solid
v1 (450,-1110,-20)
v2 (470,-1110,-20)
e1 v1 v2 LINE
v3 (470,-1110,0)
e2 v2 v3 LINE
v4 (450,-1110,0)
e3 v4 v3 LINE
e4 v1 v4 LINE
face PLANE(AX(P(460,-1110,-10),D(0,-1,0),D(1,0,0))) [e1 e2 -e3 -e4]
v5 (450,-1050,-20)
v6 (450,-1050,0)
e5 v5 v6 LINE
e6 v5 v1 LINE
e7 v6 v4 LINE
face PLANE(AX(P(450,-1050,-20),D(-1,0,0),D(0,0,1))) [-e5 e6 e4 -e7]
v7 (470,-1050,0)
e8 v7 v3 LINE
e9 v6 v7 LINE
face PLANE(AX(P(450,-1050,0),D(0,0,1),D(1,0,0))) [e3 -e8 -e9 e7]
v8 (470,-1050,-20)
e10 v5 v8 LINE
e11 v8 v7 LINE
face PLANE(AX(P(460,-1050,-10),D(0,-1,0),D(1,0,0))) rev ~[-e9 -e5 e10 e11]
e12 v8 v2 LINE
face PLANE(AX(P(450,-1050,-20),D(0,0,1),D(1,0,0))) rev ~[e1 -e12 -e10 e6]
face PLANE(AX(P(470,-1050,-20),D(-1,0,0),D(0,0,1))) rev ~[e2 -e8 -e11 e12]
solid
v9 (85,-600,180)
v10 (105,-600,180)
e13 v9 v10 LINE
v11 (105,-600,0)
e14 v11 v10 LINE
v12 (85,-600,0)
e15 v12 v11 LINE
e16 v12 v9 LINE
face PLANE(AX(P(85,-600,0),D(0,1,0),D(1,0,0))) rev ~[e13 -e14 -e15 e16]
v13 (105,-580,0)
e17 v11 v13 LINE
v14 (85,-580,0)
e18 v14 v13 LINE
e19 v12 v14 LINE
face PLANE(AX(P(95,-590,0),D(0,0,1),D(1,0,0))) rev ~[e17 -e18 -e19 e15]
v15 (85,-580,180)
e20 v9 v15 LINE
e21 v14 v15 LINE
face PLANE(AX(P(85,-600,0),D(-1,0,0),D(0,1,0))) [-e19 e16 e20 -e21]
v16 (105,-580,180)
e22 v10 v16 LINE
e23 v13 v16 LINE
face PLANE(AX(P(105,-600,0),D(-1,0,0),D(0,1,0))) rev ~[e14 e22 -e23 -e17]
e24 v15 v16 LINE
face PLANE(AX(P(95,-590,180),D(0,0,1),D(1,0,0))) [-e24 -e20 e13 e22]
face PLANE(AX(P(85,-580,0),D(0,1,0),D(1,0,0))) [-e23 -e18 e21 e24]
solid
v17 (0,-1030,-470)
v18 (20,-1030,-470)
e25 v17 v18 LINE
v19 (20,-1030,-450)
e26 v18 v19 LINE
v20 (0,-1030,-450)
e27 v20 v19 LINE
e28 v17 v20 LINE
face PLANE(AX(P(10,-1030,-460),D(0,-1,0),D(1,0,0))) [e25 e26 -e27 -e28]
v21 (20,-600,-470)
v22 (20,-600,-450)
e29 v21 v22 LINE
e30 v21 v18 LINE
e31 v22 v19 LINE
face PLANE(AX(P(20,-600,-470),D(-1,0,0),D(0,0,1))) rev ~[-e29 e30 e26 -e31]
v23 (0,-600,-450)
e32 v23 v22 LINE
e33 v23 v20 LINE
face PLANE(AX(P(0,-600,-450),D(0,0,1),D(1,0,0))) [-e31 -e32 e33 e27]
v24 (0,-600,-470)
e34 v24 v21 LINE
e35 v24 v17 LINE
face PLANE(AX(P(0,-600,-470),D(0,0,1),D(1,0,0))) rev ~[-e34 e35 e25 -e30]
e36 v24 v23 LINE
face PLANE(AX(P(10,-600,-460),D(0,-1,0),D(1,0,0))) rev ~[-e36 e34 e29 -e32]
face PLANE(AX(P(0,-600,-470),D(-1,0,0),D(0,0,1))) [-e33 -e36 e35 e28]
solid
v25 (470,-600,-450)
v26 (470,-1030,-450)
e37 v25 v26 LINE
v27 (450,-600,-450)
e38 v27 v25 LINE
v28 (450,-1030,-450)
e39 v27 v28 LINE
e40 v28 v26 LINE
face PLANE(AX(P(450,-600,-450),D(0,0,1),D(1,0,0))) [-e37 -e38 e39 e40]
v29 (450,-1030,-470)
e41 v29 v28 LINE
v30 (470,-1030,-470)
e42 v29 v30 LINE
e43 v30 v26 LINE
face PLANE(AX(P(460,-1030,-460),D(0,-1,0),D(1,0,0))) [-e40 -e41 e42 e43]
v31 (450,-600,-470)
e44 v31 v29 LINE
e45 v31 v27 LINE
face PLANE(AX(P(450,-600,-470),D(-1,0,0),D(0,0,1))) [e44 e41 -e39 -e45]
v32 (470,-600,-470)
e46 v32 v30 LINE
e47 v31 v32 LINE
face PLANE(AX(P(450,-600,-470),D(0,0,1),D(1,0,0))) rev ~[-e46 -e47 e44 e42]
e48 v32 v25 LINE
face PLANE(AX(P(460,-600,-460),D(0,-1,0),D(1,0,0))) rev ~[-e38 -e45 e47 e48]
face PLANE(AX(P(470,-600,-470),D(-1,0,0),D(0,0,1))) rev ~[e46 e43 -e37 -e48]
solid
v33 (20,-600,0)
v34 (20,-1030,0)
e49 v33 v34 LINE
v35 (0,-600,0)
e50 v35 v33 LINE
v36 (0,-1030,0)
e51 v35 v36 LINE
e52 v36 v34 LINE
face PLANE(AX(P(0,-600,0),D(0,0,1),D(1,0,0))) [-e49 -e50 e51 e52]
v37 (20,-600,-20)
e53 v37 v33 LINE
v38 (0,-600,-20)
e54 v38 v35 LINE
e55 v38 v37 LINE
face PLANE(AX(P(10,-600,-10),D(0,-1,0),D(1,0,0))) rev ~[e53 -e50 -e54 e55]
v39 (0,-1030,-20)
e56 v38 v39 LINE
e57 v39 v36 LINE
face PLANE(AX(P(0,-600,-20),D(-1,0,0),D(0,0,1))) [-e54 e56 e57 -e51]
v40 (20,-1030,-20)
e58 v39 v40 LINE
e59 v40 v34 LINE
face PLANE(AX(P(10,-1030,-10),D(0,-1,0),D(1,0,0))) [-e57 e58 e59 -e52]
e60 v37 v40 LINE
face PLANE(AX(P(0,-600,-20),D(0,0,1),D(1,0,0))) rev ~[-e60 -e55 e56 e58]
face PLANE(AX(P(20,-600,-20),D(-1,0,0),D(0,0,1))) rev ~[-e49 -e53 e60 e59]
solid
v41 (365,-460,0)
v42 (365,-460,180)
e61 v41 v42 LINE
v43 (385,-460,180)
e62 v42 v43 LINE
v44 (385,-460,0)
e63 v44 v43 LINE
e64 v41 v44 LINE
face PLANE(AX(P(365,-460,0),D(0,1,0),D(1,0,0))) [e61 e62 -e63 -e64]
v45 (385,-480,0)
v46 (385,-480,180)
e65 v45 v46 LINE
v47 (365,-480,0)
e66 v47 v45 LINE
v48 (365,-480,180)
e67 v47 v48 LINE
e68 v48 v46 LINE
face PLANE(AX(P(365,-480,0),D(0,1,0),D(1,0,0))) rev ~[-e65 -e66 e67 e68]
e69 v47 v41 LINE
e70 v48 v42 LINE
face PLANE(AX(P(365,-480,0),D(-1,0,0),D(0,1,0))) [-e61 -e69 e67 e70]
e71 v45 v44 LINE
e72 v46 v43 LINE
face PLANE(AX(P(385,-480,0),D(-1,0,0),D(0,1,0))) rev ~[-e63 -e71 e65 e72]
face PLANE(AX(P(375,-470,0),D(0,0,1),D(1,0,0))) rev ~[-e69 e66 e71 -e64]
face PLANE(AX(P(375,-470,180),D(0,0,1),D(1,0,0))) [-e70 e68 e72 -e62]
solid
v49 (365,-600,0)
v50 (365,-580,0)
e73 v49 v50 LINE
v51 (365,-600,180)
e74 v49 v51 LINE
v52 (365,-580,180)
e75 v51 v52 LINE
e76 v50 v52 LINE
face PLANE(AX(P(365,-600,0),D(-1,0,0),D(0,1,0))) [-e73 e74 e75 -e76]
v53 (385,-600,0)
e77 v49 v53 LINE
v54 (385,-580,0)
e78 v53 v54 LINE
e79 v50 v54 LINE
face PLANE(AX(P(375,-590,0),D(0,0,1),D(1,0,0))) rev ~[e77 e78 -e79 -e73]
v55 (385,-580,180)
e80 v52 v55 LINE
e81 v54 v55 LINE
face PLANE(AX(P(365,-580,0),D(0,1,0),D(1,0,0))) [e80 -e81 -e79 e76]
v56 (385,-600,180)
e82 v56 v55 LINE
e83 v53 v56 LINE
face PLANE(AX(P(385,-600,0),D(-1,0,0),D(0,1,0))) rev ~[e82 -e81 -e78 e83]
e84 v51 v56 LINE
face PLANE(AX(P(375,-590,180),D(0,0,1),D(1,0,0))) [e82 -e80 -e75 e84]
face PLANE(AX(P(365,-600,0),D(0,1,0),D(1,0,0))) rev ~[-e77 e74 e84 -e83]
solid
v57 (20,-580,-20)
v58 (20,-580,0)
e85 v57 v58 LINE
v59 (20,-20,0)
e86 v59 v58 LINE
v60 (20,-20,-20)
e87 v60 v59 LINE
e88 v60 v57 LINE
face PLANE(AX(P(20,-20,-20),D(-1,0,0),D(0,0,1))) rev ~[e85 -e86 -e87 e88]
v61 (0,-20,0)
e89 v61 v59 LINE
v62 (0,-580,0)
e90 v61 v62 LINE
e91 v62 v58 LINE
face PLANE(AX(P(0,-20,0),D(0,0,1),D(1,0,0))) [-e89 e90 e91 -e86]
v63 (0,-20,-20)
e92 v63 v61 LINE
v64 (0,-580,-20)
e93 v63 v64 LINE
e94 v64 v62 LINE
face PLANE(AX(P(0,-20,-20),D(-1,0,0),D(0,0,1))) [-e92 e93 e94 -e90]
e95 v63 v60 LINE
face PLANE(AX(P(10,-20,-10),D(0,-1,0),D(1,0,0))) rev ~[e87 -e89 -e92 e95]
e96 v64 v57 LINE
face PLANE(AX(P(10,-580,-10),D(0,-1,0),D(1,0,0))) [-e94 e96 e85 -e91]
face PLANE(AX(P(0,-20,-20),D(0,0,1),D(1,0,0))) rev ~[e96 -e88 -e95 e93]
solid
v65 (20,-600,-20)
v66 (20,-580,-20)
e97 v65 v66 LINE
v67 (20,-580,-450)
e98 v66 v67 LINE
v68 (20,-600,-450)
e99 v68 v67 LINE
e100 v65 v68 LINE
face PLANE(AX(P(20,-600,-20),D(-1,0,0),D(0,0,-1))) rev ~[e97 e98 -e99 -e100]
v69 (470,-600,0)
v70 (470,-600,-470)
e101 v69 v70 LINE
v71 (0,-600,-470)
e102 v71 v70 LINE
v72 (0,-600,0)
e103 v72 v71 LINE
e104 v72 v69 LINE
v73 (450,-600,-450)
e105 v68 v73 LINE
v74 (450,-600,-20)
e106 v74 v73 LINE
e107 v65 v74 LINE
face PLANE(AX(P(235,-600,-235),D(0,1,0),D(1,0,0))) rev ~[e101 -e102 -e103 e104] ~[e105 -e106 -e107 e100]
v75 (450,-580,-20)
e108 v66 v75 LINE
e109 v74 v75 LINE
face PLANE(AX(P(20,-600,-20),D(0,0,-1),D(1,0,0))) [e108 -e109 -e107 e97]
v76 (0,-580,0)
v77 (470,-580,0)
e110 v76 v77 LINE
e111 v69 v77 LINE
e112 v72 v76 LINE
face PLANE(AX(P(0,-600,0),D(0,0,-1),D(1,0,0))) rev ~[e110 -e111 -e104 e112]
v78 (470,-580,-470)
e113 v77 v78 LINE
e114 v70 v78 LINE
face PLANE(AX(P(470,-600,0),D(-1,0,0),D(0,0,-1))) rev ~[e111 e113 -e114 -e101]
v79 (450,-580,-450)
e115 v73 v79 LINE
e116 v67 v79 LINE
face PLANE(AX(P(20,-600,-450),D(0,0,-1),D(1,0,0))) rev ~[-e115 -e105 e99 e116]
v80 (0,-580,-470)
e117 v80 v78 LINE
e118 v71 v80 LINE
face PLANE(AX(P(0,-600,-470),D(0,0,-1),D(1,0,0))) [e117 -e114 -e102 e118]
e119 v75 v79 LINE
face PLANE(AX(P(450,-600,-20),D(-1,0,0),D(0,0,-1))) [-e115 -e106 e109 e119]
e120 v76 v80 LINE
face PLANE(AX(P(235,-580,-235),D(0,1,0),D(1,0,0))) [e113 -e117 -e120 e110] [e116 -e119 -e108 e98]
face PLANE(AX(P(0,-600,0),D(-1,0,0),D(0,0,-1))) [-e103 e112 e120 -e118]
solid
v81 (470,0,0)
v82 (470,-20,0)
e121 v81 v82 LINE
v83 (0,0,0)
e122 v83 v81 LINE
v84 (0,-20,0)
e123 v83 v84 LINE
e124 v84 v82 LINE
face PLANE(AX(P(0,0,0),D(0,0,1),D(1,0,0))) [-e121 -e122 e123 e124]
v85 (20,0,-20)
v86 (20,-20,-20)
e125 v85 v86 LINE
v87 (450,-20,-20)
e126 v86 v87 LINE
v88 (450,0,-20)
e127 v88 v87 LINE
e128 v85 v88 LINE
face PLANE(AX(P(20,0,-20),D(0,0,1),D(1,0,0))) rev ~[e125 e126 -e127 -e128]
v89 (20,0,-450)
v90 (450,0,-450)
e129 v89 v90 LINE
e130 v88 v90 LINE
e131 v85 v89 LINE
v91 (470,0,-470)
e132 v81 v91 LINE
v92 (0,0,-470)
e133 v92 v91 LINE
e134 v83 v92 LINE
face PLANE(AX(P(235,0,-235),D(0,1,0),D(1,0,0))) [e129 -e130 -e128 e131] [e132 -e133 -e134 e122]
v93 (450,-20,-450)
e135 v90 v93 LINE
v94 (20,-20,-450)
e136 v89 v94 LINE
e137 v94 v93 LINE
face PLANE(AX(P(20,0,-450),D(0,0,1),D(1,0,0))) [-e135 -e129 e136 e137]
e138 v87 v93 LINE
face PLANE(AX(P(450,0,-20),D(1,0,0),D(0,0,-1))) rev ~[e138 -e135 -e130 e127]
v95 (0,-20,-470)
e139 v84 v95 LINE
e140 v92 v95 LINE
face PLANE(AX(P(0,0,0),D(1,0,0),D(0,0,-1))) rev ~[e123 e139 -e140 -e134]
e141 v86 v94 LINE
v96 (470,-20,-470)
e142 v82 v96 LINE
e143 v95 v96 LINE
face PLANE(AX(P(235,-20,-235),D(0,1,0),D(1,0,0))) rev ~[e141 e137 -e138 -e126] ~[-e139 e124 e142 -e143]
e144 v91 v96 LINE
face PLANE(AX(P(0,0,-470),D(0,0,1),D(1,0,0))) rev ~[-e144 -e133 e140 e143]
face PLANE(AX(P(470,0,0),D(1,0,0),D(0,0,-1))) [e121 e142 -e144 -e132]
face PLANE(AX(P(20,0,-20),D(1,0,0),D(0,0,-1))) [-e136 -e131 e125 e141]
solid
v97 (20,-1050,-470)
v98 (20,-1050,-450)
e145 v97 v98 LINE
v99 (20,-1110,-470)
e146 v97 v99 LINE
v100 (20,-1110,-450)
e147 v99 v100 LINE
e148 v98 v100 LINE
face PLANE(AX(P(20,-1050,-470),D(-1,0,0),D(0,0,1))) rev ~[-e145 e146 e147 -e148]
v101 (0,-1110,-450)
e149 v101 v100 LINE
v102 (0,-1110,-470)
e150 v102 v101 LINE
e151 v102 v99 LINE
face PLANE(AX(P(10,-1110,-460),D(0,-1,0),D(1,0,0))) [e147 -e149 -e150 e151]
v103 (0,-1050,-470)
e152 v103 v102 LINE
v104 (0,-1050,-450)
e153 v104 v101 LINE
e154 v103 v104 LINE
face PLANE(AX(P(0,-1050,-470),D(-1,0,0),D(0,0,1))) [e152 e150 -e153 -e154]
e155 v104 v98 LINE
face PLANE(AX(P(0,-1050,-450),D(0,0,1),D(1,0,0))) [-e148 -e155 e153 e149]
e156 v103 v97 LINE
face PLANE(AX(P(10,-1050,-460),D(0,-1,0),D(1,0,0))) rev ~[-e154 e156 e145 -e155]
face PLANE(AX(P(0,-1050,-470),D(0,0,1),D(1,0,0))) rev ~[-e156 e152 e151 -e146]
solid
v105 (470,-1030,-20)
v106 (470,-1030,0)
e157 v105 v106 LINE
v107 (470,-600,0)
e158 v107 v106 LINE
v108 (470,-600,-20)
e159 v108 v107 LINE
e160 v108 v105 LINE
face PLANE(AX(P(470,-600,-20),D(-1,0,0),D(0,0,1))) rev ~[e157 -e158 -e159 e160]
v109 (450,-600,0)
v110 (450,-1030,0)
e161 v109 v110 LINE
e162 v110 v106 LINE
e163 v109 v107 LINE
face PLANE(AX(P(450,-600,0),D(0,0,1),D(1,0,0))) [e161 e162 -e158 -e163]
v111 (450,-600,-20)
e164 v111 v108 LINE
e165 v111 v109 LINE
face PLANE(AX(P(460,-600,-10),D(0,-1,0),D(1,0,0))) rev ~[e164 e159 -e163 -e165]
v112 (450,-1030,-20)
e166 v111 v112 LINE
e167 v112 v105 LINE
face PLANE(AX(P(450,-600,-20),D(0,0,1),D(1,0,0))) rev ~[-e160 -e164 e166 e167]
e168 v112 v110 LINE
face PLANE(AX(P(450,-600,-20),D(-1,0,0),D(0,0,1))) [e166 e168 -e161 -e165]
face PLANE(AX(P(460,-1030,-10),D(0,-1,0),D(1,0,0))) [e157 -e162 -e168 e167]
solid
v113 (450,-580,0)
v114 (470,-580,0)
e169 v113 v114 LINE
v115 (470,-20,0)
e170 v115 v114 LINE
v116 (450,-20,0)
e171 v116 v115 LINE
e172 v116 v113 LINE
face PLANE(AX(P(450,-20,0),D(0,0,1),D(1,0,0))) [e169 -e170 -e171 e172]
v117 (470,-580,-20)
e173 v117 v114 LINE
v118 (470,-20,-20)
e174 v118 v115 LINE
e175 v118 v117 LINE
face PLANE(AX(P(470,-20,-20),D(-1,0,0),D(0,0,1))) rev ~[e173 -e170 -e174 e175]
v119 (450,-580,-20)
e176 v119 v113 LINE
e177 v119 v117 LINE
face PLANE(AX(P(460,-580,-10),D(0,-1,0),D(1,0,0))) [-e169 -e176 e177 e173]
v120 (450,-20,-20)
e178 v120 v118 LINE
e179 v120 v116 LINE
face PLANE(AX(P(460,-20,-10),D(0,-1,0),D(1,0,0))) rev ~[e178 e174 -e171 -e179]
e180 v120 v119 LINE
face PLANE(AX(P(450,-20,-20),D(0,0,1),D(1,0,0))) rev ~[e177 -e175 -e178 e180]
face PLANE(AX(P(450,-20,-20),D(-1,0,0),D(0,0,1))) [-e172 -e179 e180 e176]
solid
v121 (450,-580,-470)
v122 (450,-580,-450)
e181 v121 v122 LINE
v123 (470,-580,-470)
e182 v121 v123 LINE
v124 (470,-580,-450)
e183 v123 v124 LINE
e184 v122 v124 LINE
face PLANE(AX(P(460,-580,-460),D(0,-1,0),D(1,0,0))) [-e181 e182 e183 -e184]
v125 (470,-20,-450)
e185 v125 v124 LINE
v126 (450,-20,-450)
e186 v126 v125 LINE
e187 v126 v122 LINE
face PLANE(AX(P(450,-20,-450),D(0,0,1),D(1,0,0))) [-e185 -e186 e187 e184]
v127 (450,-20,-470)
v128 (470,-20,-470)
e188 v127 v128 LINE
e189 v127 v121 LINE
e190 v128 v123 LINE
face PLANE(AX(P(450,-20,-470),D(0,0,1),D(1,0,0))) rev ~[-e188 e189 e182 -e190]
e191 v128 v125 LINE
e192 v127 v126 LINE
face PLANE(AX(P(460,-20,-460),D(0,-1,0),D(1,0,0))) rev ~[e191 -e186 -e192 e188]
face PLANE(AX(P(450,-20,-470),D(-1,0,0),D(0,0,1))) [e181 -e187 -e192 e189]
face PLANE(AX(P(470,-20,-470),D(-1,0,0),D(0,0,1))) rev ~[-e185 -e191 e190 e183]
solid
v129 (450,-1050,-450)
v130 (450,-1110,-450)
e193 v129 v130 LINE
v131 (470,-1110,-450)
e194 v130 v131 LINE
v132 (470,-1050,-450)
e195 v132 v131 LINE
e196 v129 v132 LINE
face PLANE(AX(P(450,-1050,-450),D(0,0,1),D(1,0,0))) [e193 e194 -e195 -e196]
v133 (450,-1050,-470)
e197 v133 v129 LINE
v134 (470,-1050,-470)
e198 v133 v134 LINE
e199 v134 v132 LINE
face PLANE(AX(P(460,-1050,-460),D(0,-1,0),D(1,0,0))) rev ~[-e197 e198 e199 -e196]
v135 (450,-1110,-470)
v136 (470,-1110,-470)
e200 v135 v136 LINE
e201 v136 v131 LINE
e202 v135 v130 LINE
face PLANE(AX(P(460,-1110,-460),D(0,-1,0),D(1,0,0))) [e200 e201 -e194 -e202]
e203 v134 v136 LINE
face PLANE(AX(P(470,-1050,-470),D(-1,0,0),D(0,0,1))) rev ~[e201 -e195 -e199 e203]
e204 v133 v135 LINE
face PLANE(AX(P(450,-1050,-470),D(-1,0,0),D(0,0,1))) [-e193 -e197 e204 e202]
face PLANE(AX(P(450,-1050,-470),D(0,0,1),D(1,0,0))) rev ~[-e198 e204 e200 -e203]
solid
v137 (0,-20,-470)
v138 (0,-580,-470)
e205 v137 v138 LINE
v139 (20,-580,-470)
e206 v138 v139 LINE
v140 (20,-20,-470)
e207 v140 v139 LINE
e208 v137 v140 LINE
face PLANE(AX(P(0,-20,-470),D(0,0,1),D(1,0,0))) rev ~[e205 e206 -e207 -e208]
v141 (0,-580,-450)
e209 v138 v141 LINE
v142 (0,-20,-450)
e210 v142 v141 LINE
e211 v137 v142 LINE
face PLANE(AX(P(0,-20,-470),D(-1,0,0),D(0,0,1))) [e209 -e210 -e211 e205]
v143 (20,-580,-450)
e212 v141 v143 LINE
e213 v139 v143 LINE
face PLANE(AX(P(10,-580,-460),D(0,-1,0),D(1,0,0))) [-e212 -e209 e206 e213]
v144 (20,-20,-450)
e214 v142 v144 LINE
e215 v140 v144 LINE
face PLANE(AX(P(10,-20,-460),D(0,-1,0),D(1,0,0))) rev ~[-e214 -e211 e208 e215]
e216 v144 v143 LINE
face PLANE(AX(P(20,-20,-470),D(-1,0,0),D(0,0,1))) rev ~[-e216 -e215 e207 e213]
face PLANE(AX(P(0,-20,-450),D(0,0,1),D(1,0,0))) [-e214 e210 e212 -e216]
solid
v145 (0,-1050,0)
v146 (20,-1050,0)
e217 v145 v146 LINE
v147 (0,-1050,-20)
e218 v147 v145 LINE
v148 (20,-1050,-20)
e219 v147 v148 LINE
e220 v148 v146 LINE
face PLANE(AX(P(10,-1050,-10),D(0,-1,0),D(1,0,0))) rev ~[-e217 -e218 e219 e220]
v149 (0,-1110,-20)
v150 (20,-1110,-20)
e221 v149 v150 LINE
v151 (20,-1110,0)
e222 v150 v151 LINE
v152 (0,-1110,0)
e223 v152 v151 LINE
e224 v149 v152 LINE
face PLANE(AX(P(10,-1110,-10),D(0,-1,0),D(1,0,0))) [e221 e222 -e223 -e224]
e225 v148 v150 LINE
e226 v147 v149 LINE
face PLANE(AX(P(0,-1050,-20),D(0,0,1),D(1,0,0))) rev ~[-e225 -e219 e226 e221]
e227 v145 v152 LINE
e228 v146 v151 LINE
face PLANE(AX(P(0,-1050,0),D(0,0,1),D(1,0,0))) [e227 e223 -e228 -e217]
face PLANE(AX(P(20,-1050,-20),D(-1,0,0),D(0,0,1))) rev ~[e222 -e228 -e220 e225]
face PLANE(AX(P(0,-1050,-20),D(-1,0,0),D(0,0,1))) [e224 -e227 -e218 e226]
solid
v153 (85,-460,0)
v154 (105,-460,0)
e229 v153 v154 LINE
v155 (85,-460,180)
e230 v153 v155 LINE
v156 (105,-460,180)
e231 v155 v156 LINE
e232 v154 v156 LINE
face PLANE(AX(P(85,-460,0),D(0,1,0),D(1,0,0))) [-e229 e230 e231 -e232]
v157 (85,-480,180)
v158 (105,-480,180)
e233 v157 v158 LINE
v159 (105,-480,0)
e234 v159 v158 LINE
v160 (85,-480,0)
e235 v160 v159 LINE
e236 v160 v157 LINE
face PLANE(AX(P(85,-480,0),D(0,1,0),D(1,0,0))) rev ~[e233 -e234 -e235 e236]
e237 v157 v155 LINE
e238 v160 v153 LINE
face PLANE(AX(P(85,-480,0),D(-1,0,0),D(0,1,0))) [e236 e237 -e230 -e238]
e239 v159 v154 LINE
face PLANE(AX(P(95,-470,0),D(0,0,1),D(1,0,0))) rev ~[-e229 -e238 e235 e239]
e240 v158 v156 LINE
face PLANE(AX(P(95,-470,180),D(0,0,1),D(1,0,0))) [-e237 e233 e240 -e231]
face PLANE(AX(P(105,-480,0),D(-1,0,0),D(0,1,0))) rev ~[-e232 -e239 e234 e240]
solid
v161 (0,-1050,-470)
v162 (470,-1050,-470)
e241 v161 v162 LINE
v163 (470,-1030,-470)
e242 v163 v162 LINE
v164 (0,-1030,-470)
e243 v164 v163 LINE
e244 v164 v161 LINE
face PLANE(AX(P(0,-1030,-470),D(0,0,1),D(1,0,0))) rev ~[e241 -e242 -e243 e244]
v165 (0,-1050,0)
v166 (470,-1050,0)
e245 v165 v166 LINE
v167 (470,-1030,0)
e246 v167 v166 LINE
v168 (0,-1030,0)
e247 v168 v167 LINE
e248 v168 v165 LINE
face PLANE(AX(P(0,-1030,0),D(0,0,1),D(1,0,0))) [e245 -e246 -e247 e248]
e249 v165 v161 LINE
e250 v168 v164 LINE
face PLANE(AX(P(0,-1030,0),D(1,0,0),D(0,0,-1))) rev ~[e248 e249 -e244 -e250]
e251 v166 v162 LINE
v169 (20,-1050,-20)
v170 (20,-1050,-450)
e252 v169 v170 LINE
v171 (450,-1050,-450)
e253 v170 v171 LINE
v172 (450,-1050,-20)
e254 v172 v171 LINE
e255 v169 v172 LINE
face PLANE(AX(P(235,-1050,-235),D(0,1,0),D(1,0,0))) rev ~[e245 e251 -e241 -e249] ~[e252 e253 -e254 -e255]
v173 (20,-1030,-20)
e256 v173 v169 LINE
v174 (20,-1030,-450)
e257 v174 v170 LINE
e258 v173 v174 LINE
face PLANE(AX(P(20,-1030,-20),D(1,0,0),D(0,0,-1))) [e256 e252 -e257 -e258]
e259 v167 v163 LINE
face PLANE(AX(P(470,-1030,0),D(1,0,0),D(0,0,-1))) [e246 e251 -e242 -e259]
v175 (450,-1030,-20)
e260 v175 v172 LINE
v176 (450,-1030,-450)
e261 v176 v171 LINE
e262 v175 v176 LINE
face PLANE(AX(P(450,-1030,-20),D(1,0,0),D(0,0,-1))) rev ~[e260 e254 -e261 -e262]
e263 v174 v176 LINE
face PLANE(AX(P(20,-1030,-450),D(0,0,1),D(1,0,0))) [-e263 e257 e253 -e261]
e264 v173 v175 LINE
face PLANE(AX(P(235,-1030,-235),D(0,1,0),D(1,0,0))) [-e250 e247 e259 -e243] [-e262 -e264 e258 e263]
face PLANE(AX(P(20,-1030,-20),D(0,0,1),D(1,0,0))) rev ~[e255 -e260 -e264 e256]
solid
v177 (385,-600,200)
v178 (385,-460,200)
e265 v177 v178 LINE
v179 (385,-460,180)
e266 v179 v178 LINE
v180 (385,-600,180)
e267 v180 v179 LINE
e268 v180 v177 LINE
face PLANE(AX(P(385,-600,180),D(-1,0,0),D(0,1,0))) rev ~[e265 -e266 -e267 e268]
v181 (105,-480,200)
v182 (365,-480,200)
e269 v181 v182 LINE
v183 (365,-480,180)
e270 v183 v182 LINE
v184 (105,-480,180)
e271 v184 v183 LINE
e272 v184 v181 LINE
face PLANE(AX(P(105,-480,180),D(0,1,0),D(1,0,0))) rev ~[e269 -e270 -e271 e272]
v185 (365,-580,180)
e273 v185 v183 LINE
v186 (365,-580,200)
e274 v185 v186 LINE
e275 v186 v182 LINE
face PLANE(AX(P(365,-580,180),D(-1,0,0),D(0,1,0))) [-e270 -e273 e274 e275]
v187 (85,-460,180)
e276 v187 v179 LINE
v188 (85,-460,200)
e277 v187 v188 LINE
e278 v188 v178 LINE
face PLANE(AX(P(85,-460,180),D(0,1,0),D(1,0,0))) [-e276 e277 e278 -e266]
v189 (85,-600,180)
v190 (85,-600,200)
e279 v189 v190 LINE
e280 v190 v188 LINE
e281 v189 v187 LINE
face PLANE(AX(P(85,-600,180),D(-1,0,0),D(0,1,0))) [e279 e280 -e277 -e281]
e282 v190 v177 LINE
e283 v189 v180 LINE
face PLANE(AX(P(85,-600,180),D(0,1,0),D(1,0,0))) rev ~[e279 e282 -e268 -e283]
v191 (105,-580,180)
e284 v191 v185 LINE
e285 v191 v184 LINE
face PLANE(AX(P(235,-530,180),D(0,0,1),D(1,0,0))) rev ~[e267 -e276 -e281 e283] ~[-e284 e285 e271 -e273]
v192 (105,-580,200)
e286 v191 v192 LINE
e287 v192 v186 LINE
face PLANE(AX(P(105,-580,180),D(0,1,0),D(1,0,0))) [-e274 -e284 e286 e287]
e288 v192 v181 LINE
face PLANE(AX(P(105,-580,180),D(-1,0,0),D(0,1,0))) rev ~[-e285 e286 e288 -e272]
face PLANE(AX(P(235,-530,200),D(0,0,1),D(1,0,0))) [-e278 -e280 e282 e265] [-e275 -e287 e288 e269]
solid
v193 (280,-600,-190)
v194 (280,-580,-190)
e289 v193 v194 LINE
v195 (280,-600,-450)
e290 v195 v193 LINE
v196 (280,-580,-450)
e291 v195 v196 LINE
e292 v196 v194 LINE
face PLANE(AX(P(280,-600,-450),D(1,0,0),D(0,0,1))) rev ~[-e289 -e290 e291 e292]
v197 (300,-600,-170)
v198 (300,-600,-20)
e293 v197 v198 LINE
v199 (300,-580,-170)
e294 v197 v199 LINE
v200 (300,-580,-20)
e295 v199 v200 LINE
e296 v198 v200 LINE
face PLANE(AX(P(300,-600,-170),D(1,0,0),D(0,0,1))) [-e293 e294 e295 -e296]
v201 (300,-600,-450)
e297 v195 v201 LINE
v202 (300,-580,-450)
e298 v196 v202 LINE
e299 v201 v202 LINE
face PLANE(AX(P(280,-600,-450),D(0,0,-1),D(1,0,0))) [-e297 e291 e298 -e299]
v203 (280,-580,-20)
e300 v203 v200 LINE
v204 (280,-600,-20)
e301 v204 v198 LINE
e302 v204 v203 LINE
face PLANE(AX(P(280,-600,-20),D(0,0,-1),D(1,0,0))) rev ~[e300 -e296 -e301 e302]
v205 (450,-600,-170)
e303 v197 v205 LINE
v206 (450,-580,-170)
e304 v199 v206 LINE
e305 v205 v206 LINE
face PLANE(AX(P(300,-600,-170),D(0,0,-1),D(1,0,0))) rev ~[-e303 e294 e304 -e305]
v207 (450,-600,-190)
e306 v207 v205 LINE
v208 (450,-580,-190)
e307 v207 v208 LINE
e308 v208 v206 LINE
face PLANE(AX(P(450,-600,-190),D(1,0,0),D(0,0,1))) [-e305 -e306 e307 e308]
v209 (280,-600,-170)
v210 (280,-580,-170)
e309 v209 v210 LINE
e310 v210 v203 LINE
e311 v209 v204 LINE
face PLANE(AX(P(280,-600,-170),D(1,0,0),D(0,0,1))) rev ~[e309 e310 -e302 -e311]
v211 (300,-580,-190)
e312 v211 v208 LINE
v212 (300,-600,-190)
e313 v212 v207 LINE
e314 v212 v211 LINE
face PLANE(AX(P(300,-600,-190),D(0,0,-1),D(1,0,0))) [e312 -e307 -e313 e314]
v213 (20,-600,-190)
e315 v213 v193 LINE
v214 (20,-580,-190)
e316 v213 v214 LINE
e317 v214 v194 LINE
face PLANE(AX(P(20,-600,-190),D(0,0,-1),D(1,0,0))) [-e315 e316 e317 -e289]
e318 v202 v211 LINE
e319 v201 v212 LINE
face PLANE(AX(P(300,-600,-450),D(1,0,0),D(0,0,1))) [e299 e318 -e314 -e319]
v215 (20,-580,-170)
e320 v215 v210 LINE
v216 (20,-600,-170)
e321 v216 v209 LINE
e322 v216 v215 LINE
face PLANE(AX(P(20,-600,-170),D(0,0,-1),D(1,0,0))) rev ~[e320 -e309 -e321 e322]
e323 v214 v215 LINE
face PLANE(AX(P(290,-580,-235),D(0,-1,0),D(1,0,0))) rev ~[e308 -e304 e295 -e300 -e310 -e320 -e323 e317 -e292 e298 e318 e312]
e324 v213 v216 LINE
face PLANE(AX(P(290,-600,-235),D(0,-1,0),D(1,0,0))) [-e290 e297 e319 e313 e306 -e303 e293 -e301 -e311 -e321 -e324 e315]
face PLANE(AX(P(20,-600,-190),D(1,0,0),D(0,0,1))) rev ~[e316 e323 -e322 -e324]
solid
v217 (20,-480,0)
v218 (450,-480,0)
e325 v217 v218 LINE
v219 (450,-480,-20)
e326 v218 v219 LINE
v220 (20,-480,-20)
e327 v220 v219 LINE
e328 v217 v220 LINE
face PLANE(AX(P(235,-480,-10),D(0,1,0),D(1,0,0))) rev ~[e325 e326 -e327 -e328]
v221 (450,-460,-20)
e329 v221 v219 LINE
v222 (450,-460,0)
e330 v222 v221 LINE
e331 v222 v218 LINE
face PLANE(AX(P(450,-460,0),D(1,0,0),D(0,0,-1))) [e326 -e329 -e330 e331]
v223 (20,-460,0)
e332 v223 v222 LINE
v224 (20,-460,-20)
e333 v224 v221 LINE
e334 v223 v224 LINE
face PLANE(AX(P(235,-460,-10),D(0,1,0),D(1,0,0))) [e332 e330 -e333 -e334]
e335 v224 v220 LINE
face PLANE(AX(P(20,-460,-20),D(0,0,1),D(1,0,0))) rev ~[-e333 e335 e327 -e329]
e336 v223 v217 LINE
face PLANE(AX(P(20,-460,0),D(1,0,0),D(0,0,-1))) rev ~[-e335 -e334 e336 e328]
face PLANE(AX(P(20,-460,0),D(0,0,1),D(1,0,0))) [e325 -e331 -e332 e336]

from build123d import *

# Parameters (mm, degrees)
SKETCH_1_W        = 470
SKETCH_1_H        = 470
SKETCH_1_W_2      = 430
SKETCH_1_H_2      = 430
EXTRUDE_1_DEPTH   = 20
SKETCH_2_W        = 20
SKETCH_2_H        = 20
EXTRUDE_2_DEPTH   = 560
EXTRUDE_2_2_DEPTH = 560
EXTRUDE_2_3_DEPTH = 560
EXTRUDE_2_4_DEPTH = 560
SKETCH_3_W        = 470
SKETCH_3_H        = 470
SKETCH_3_W_2      = 430
SKETCH_3_H_2      = 430
EXTRUDE_3_DEPTH   = 20
SKETCH_4_W        = 470
SKETCH_4_H        = 470
SKETCH_4_W_2      = 430
SKETCH_4_H_2      = 430
EXTRUDE_4_DEPTH   = 20
SKETCH_5_W        = 20
SKETCH_5_H        = 20
EXTRUDE_5_DEPTH   = 430
EXTRUDE_5_2_DEPTH = 430
EXTRUDE_5_3_DEPTH = 430
EXTRUDE_5_4_DEPTH = 430
SKETCH_6_W        = 20
SKETCH_6_H        = 20
EXTRUDE_6_DEPTH   = 60
EXTRUDE_6_2_DEPTH = 60
EXTRUDE_6_3_DEPTH = 60
EXTRUDE_6_4_DEPTH = 60
SKETCH_8_W        = 430
SKETCH_8_H        = 20
EXTRUDE_7_DEPTH   = 20
EXTRUDE_START     = 180
SKETCH_9_W        = 300
SKETCH_9_H        = 140
SKETCH_9_W_2      = 260
SKETCH_9_H_2      = 100
EXTRUDE_8_DEPTH   = 20
SKETCH_10_W       = 20
SKETCH_10_H       = 20
EXTRUDE_9_DEPTH   = 180
EXTRUDE_9_2_DEPTH = 180
EXTRUDE_9_3_DEPTH = 180
EXTRUDE_9_4_DEPTH = 180
SKETCH_11_W       = 20
SKETCH_11_H       = 430
SKETCH_11_W_2     = 430
SKETCH_11_H_2     = 20
EXTRUDE_10_DEPTH  = 20


with BuildPart() as part:
    # 스케치1 → 보스-돌출1 (new body)
    with BuildSketch(Plane(origin=(0, 0, 0), x_dir=(1, 0, 0), z_dir=(0, 1, 0))):
        with Locations((235, 235)):
            Rectangle(SKETCH_1_W, SKETCH_1_H)
        with Locations((235, 235)):
            Rectangle(SKETCH_1_W_2, SKETCH_1_H_2, mode=Mode.SUBTRACT)
    extrude(amount=-EXTRUDE_1_DEPTH)


with BuildPart() as body_2:
    # 스케치2 → 보스-돌출2 (new body)
    with BuildSketch(Plane.XZ.offset(20)):
        with Locations((10, -10)):
            Rectangle(SKETCH_2_W, SKETCH_2_H)
    extrude(amount=EXTRUDE_2_DEPTH)


with BuildPart() as body_3:
    # 스케치2 → Extrude 2 2 (new body)
    with BuildSketch(Plane.XZ.offset(20)):
        with Locations((460, -10)):
            Rectangle(SKETCH_2_W, SKETCH_2_H)
    extrude(amount=EXTRUDE_2_2_DEPTH)


with BuildPart() as body_4:
    # 스케치2 → Extrude 2 3 (new body)
    with BuildSketch(Plane.XZ.offset(20)):
        with Locations((460, -460)):
            Rectangle(SKETCH_2_W, SKETCH_2_H)
    extrude(amount=EXTRUDE_2_3_DEPTH)


with BuildPart() as body_5:
    # 스케치2 → Extrude 2 4 (new body)
    with BuildSketch(Plane.XZ.offset(20)):
        with Locations((10, -460)):
            Rectangle(SKETCH_2_W, SKETCH_2_H)
    extrude(amount=EXTRUDE_2_4_DEPTH)


with BuildPart() as body_6:
    # 스케치3 → 보스-돌출3 (new body)
    with BuildSketch(Plane(origin=(0, -1030, 0), x_dir=(1, 0, 0), z_dir=(0, 1, 0))):
        with Locations((235, 235)):
            Rectangle(SKETCH_3_W, SKETCH_3_H)
        with Locations((235, 235)):
            Rectangle(SKETCH_3_W_2, SKETCH_3_H_2, mode=Mode.SUBTRACT)
    extrude(amount=-EXTRUDE_3_DEPTH)


with BuildPart() as body_7:
    # 스케치4 → 보스-돌출4 (new body)
    with BuildSketch(Plane(origin=(0, -600, 0), x_dir=(1, 0, 0), z_dir=(0, 1, 0))):
        with Locations((235, 235)):
            Rectangle(SKETCH_4_W, SKETCH_4_H)
        with Locations((235, 235)):
            Rectangle(SKETCH_4_W_2, SKETCH_4_H_2, mode=Mode.SUBTRACT)
    extrude(amount=EXTRUDE_4_DEPTH)


with BuildPart() as body_8:
    # 스케치5 → 보스-돌출5 (new body)
    with BuildSketch(Plane.XZ.offset(600)):
        with Locations((10, -10)):
            Rectangle(SKETCH_5_W, SKETCH_5_H)
    extrude(amount=EXTRUDE_5_DEPTH)


with BuildPart() as body_9:
    # 스케치5 → Extrude 5 2 (new body)
    with BuildSketch(Plane.XZ.offset(600)):
        with Locations((460, -10)):
            Rectangle(SKETCH_5_W, SKETCH_5_H)
    extrude(amount=EXTRUDE_5_2_DEPTH)


with BuildPart() as body_10:
    # 스케치5 → Extrude 5 3 (new body)
    with BuildSketch(Plane.XZ.offset(600)):
        with Locations((460, -460)):
            Rectangle(SKETCH_5_W, SKETCH_5_H)
    extrude(amount=EXTRUDE_5_3_DEPTH)


with BuildPart() as body_11:
    # 스케치5 → Extrude 5 4 (new body)
    with BuildSketch(Plane.XZ.offset(600)):
        with Locations((10, -460)):
            Rectangle(SKETCH_5_W, SKETCH_5_H)
    extrude(amount=EXTRUDE_5_4_DEPTH)


with BuildPart() as body_12:
    # 스케치6 → 보스-돌출6 (new body)
    with BuildSketch(Plane.XZ.offset(1050)):
        with Locations((10, -10)):
            Rectangle(SKETCH_6_W, SKETCH_6_H)
    extrude(amount=EXTRUDE_6_DEPTH)


with BuildPart() as body_13:
    # 스케치6 → Extrude 6 2 (new body)
    with BuildSketch(Plane.XZ.offset(1050)):
        with Locations((460, -10)):
            Rectangle(SKETCH_6_W, SKETCH_6_H)
    extrude(amount=EXTRUDE_6_2_DEPTH)


with BuildPart() as body_14:
    # 스케치6 → Extrude 6 3 (new body)
    with BuildSketch(Plane.XZ.offset(1050)):
        with Locations((460, -460)):
            Rectangle(SKETCH_6_W, SKETCH_6_H)
    extrude(amount=EXTRUDE_6_3_DEPTH)


with BuildPart() as body_15:
    # 스케치6 → Extrude 6 4 (new body)
    with BuildSketch(Plane.XZ.offset(1050)):
        with Locations((10, -460)):
            Rectangle(SKETCH_6_W, SKETCH_6_H)
    extrude(amount=EXTRUDE_6_4_DEPTH)


with BuildPart() as body_16:
    # 스케치8 → 보스-돌출7 (new body)
    with BuildSketch(Plane(origin=(0, -460, 0), x_dir=(1, 0, 0), z_dir=(0, 1, 0))):
        with Locations((235, 10)):
            Rectangle(SKETCH_8_W, SKETCH_8_H)
    extrude(amount=-EXTRUDE_7_DEPTH)


with BuildPart() as body_17:
    # 스케치9 → 보스-돌출8 (new body)
    with BuildSketch(Plane.XY.offset(EXTRUDE_START)):
        with Locations((235, -530)):
            Rectangle(SKETCH_9_W, SKETCH_9_H)
        with Locations((235, -530)):
            Rectangle(SKETCH_9_W_2, SKETCH_9_H_2, mode=Mode.SUBTRACT)
    extrude(amount=EXTRUDE_8_DEPTH)


with BuildPart() as body_18:
    # 스케치10 → 보스-돌출9 (new body)
    with BuildSketch(Plane.XY):
        with Locations((95, -470)):
            Rectangle(SKETCH_10_W, SKETCH_10_H)
    extrude(amount=EXTRUDE_9_DEPTH)


with BuildPart() as body_19:
    # 스케치10 → Extrude 9 2 (new body)
    with BuildSketch(Plane.XY):
        with Locations((375, -470)):
            Rectangle(SKETCH_10_W, SKETCH_10_H)
    extrude(amount=EXTRUDE_9_2_DEPTH)


with BuildPart() as body_20:
    # 스케치10 → Extrude 9 3 (new body)
    with BuildSketch(Plane.XY):
        with Locations((375, -590)):
            Rectangle(SKETCH_10_W, SKETCH_10_H)
    extrude(amount=EXTRUDE_9_3_DEPTH)


with BuildPart() as body_21:
    # 스케치10 → Extrude 9 4 (new body)
    with BuildSketch(Plane.XY):
        with Locations((95, -590)):
            Rectangle(SKETCH_10_W, SKETCH_10_H)
    extrude(amount=EXTRUDE_9_4_DEPTH)


with BuildPart() as body_22:
    # 스케치11 → 보스-돌출10 (new body)
    with BuildSketch(Plane.XZ.offset(600)):
        with Locations((290, -235)):
            Rectangle(SKETCH_11_W, SKETCH_11_H)
        with Locations((235, -180)):
            Rectangle(SKETCH_11_W_2, SKETCH_11_H_2)
    extrude(amount=-EXTRUDE_10_DEPTH)


solid = Compound([part.part, body_2.part, body_3.part, body_4.part, body_5.part, body_6.part, body_7.part, body_8.part, body_9.part, body_10.part, body_11.part, body_12.part, body_13.part, body_14.part, body_15.part, body_16.part, body_17.part, body_18.part, body_19.part, body_20.part, body_21.part, body_22.part])
